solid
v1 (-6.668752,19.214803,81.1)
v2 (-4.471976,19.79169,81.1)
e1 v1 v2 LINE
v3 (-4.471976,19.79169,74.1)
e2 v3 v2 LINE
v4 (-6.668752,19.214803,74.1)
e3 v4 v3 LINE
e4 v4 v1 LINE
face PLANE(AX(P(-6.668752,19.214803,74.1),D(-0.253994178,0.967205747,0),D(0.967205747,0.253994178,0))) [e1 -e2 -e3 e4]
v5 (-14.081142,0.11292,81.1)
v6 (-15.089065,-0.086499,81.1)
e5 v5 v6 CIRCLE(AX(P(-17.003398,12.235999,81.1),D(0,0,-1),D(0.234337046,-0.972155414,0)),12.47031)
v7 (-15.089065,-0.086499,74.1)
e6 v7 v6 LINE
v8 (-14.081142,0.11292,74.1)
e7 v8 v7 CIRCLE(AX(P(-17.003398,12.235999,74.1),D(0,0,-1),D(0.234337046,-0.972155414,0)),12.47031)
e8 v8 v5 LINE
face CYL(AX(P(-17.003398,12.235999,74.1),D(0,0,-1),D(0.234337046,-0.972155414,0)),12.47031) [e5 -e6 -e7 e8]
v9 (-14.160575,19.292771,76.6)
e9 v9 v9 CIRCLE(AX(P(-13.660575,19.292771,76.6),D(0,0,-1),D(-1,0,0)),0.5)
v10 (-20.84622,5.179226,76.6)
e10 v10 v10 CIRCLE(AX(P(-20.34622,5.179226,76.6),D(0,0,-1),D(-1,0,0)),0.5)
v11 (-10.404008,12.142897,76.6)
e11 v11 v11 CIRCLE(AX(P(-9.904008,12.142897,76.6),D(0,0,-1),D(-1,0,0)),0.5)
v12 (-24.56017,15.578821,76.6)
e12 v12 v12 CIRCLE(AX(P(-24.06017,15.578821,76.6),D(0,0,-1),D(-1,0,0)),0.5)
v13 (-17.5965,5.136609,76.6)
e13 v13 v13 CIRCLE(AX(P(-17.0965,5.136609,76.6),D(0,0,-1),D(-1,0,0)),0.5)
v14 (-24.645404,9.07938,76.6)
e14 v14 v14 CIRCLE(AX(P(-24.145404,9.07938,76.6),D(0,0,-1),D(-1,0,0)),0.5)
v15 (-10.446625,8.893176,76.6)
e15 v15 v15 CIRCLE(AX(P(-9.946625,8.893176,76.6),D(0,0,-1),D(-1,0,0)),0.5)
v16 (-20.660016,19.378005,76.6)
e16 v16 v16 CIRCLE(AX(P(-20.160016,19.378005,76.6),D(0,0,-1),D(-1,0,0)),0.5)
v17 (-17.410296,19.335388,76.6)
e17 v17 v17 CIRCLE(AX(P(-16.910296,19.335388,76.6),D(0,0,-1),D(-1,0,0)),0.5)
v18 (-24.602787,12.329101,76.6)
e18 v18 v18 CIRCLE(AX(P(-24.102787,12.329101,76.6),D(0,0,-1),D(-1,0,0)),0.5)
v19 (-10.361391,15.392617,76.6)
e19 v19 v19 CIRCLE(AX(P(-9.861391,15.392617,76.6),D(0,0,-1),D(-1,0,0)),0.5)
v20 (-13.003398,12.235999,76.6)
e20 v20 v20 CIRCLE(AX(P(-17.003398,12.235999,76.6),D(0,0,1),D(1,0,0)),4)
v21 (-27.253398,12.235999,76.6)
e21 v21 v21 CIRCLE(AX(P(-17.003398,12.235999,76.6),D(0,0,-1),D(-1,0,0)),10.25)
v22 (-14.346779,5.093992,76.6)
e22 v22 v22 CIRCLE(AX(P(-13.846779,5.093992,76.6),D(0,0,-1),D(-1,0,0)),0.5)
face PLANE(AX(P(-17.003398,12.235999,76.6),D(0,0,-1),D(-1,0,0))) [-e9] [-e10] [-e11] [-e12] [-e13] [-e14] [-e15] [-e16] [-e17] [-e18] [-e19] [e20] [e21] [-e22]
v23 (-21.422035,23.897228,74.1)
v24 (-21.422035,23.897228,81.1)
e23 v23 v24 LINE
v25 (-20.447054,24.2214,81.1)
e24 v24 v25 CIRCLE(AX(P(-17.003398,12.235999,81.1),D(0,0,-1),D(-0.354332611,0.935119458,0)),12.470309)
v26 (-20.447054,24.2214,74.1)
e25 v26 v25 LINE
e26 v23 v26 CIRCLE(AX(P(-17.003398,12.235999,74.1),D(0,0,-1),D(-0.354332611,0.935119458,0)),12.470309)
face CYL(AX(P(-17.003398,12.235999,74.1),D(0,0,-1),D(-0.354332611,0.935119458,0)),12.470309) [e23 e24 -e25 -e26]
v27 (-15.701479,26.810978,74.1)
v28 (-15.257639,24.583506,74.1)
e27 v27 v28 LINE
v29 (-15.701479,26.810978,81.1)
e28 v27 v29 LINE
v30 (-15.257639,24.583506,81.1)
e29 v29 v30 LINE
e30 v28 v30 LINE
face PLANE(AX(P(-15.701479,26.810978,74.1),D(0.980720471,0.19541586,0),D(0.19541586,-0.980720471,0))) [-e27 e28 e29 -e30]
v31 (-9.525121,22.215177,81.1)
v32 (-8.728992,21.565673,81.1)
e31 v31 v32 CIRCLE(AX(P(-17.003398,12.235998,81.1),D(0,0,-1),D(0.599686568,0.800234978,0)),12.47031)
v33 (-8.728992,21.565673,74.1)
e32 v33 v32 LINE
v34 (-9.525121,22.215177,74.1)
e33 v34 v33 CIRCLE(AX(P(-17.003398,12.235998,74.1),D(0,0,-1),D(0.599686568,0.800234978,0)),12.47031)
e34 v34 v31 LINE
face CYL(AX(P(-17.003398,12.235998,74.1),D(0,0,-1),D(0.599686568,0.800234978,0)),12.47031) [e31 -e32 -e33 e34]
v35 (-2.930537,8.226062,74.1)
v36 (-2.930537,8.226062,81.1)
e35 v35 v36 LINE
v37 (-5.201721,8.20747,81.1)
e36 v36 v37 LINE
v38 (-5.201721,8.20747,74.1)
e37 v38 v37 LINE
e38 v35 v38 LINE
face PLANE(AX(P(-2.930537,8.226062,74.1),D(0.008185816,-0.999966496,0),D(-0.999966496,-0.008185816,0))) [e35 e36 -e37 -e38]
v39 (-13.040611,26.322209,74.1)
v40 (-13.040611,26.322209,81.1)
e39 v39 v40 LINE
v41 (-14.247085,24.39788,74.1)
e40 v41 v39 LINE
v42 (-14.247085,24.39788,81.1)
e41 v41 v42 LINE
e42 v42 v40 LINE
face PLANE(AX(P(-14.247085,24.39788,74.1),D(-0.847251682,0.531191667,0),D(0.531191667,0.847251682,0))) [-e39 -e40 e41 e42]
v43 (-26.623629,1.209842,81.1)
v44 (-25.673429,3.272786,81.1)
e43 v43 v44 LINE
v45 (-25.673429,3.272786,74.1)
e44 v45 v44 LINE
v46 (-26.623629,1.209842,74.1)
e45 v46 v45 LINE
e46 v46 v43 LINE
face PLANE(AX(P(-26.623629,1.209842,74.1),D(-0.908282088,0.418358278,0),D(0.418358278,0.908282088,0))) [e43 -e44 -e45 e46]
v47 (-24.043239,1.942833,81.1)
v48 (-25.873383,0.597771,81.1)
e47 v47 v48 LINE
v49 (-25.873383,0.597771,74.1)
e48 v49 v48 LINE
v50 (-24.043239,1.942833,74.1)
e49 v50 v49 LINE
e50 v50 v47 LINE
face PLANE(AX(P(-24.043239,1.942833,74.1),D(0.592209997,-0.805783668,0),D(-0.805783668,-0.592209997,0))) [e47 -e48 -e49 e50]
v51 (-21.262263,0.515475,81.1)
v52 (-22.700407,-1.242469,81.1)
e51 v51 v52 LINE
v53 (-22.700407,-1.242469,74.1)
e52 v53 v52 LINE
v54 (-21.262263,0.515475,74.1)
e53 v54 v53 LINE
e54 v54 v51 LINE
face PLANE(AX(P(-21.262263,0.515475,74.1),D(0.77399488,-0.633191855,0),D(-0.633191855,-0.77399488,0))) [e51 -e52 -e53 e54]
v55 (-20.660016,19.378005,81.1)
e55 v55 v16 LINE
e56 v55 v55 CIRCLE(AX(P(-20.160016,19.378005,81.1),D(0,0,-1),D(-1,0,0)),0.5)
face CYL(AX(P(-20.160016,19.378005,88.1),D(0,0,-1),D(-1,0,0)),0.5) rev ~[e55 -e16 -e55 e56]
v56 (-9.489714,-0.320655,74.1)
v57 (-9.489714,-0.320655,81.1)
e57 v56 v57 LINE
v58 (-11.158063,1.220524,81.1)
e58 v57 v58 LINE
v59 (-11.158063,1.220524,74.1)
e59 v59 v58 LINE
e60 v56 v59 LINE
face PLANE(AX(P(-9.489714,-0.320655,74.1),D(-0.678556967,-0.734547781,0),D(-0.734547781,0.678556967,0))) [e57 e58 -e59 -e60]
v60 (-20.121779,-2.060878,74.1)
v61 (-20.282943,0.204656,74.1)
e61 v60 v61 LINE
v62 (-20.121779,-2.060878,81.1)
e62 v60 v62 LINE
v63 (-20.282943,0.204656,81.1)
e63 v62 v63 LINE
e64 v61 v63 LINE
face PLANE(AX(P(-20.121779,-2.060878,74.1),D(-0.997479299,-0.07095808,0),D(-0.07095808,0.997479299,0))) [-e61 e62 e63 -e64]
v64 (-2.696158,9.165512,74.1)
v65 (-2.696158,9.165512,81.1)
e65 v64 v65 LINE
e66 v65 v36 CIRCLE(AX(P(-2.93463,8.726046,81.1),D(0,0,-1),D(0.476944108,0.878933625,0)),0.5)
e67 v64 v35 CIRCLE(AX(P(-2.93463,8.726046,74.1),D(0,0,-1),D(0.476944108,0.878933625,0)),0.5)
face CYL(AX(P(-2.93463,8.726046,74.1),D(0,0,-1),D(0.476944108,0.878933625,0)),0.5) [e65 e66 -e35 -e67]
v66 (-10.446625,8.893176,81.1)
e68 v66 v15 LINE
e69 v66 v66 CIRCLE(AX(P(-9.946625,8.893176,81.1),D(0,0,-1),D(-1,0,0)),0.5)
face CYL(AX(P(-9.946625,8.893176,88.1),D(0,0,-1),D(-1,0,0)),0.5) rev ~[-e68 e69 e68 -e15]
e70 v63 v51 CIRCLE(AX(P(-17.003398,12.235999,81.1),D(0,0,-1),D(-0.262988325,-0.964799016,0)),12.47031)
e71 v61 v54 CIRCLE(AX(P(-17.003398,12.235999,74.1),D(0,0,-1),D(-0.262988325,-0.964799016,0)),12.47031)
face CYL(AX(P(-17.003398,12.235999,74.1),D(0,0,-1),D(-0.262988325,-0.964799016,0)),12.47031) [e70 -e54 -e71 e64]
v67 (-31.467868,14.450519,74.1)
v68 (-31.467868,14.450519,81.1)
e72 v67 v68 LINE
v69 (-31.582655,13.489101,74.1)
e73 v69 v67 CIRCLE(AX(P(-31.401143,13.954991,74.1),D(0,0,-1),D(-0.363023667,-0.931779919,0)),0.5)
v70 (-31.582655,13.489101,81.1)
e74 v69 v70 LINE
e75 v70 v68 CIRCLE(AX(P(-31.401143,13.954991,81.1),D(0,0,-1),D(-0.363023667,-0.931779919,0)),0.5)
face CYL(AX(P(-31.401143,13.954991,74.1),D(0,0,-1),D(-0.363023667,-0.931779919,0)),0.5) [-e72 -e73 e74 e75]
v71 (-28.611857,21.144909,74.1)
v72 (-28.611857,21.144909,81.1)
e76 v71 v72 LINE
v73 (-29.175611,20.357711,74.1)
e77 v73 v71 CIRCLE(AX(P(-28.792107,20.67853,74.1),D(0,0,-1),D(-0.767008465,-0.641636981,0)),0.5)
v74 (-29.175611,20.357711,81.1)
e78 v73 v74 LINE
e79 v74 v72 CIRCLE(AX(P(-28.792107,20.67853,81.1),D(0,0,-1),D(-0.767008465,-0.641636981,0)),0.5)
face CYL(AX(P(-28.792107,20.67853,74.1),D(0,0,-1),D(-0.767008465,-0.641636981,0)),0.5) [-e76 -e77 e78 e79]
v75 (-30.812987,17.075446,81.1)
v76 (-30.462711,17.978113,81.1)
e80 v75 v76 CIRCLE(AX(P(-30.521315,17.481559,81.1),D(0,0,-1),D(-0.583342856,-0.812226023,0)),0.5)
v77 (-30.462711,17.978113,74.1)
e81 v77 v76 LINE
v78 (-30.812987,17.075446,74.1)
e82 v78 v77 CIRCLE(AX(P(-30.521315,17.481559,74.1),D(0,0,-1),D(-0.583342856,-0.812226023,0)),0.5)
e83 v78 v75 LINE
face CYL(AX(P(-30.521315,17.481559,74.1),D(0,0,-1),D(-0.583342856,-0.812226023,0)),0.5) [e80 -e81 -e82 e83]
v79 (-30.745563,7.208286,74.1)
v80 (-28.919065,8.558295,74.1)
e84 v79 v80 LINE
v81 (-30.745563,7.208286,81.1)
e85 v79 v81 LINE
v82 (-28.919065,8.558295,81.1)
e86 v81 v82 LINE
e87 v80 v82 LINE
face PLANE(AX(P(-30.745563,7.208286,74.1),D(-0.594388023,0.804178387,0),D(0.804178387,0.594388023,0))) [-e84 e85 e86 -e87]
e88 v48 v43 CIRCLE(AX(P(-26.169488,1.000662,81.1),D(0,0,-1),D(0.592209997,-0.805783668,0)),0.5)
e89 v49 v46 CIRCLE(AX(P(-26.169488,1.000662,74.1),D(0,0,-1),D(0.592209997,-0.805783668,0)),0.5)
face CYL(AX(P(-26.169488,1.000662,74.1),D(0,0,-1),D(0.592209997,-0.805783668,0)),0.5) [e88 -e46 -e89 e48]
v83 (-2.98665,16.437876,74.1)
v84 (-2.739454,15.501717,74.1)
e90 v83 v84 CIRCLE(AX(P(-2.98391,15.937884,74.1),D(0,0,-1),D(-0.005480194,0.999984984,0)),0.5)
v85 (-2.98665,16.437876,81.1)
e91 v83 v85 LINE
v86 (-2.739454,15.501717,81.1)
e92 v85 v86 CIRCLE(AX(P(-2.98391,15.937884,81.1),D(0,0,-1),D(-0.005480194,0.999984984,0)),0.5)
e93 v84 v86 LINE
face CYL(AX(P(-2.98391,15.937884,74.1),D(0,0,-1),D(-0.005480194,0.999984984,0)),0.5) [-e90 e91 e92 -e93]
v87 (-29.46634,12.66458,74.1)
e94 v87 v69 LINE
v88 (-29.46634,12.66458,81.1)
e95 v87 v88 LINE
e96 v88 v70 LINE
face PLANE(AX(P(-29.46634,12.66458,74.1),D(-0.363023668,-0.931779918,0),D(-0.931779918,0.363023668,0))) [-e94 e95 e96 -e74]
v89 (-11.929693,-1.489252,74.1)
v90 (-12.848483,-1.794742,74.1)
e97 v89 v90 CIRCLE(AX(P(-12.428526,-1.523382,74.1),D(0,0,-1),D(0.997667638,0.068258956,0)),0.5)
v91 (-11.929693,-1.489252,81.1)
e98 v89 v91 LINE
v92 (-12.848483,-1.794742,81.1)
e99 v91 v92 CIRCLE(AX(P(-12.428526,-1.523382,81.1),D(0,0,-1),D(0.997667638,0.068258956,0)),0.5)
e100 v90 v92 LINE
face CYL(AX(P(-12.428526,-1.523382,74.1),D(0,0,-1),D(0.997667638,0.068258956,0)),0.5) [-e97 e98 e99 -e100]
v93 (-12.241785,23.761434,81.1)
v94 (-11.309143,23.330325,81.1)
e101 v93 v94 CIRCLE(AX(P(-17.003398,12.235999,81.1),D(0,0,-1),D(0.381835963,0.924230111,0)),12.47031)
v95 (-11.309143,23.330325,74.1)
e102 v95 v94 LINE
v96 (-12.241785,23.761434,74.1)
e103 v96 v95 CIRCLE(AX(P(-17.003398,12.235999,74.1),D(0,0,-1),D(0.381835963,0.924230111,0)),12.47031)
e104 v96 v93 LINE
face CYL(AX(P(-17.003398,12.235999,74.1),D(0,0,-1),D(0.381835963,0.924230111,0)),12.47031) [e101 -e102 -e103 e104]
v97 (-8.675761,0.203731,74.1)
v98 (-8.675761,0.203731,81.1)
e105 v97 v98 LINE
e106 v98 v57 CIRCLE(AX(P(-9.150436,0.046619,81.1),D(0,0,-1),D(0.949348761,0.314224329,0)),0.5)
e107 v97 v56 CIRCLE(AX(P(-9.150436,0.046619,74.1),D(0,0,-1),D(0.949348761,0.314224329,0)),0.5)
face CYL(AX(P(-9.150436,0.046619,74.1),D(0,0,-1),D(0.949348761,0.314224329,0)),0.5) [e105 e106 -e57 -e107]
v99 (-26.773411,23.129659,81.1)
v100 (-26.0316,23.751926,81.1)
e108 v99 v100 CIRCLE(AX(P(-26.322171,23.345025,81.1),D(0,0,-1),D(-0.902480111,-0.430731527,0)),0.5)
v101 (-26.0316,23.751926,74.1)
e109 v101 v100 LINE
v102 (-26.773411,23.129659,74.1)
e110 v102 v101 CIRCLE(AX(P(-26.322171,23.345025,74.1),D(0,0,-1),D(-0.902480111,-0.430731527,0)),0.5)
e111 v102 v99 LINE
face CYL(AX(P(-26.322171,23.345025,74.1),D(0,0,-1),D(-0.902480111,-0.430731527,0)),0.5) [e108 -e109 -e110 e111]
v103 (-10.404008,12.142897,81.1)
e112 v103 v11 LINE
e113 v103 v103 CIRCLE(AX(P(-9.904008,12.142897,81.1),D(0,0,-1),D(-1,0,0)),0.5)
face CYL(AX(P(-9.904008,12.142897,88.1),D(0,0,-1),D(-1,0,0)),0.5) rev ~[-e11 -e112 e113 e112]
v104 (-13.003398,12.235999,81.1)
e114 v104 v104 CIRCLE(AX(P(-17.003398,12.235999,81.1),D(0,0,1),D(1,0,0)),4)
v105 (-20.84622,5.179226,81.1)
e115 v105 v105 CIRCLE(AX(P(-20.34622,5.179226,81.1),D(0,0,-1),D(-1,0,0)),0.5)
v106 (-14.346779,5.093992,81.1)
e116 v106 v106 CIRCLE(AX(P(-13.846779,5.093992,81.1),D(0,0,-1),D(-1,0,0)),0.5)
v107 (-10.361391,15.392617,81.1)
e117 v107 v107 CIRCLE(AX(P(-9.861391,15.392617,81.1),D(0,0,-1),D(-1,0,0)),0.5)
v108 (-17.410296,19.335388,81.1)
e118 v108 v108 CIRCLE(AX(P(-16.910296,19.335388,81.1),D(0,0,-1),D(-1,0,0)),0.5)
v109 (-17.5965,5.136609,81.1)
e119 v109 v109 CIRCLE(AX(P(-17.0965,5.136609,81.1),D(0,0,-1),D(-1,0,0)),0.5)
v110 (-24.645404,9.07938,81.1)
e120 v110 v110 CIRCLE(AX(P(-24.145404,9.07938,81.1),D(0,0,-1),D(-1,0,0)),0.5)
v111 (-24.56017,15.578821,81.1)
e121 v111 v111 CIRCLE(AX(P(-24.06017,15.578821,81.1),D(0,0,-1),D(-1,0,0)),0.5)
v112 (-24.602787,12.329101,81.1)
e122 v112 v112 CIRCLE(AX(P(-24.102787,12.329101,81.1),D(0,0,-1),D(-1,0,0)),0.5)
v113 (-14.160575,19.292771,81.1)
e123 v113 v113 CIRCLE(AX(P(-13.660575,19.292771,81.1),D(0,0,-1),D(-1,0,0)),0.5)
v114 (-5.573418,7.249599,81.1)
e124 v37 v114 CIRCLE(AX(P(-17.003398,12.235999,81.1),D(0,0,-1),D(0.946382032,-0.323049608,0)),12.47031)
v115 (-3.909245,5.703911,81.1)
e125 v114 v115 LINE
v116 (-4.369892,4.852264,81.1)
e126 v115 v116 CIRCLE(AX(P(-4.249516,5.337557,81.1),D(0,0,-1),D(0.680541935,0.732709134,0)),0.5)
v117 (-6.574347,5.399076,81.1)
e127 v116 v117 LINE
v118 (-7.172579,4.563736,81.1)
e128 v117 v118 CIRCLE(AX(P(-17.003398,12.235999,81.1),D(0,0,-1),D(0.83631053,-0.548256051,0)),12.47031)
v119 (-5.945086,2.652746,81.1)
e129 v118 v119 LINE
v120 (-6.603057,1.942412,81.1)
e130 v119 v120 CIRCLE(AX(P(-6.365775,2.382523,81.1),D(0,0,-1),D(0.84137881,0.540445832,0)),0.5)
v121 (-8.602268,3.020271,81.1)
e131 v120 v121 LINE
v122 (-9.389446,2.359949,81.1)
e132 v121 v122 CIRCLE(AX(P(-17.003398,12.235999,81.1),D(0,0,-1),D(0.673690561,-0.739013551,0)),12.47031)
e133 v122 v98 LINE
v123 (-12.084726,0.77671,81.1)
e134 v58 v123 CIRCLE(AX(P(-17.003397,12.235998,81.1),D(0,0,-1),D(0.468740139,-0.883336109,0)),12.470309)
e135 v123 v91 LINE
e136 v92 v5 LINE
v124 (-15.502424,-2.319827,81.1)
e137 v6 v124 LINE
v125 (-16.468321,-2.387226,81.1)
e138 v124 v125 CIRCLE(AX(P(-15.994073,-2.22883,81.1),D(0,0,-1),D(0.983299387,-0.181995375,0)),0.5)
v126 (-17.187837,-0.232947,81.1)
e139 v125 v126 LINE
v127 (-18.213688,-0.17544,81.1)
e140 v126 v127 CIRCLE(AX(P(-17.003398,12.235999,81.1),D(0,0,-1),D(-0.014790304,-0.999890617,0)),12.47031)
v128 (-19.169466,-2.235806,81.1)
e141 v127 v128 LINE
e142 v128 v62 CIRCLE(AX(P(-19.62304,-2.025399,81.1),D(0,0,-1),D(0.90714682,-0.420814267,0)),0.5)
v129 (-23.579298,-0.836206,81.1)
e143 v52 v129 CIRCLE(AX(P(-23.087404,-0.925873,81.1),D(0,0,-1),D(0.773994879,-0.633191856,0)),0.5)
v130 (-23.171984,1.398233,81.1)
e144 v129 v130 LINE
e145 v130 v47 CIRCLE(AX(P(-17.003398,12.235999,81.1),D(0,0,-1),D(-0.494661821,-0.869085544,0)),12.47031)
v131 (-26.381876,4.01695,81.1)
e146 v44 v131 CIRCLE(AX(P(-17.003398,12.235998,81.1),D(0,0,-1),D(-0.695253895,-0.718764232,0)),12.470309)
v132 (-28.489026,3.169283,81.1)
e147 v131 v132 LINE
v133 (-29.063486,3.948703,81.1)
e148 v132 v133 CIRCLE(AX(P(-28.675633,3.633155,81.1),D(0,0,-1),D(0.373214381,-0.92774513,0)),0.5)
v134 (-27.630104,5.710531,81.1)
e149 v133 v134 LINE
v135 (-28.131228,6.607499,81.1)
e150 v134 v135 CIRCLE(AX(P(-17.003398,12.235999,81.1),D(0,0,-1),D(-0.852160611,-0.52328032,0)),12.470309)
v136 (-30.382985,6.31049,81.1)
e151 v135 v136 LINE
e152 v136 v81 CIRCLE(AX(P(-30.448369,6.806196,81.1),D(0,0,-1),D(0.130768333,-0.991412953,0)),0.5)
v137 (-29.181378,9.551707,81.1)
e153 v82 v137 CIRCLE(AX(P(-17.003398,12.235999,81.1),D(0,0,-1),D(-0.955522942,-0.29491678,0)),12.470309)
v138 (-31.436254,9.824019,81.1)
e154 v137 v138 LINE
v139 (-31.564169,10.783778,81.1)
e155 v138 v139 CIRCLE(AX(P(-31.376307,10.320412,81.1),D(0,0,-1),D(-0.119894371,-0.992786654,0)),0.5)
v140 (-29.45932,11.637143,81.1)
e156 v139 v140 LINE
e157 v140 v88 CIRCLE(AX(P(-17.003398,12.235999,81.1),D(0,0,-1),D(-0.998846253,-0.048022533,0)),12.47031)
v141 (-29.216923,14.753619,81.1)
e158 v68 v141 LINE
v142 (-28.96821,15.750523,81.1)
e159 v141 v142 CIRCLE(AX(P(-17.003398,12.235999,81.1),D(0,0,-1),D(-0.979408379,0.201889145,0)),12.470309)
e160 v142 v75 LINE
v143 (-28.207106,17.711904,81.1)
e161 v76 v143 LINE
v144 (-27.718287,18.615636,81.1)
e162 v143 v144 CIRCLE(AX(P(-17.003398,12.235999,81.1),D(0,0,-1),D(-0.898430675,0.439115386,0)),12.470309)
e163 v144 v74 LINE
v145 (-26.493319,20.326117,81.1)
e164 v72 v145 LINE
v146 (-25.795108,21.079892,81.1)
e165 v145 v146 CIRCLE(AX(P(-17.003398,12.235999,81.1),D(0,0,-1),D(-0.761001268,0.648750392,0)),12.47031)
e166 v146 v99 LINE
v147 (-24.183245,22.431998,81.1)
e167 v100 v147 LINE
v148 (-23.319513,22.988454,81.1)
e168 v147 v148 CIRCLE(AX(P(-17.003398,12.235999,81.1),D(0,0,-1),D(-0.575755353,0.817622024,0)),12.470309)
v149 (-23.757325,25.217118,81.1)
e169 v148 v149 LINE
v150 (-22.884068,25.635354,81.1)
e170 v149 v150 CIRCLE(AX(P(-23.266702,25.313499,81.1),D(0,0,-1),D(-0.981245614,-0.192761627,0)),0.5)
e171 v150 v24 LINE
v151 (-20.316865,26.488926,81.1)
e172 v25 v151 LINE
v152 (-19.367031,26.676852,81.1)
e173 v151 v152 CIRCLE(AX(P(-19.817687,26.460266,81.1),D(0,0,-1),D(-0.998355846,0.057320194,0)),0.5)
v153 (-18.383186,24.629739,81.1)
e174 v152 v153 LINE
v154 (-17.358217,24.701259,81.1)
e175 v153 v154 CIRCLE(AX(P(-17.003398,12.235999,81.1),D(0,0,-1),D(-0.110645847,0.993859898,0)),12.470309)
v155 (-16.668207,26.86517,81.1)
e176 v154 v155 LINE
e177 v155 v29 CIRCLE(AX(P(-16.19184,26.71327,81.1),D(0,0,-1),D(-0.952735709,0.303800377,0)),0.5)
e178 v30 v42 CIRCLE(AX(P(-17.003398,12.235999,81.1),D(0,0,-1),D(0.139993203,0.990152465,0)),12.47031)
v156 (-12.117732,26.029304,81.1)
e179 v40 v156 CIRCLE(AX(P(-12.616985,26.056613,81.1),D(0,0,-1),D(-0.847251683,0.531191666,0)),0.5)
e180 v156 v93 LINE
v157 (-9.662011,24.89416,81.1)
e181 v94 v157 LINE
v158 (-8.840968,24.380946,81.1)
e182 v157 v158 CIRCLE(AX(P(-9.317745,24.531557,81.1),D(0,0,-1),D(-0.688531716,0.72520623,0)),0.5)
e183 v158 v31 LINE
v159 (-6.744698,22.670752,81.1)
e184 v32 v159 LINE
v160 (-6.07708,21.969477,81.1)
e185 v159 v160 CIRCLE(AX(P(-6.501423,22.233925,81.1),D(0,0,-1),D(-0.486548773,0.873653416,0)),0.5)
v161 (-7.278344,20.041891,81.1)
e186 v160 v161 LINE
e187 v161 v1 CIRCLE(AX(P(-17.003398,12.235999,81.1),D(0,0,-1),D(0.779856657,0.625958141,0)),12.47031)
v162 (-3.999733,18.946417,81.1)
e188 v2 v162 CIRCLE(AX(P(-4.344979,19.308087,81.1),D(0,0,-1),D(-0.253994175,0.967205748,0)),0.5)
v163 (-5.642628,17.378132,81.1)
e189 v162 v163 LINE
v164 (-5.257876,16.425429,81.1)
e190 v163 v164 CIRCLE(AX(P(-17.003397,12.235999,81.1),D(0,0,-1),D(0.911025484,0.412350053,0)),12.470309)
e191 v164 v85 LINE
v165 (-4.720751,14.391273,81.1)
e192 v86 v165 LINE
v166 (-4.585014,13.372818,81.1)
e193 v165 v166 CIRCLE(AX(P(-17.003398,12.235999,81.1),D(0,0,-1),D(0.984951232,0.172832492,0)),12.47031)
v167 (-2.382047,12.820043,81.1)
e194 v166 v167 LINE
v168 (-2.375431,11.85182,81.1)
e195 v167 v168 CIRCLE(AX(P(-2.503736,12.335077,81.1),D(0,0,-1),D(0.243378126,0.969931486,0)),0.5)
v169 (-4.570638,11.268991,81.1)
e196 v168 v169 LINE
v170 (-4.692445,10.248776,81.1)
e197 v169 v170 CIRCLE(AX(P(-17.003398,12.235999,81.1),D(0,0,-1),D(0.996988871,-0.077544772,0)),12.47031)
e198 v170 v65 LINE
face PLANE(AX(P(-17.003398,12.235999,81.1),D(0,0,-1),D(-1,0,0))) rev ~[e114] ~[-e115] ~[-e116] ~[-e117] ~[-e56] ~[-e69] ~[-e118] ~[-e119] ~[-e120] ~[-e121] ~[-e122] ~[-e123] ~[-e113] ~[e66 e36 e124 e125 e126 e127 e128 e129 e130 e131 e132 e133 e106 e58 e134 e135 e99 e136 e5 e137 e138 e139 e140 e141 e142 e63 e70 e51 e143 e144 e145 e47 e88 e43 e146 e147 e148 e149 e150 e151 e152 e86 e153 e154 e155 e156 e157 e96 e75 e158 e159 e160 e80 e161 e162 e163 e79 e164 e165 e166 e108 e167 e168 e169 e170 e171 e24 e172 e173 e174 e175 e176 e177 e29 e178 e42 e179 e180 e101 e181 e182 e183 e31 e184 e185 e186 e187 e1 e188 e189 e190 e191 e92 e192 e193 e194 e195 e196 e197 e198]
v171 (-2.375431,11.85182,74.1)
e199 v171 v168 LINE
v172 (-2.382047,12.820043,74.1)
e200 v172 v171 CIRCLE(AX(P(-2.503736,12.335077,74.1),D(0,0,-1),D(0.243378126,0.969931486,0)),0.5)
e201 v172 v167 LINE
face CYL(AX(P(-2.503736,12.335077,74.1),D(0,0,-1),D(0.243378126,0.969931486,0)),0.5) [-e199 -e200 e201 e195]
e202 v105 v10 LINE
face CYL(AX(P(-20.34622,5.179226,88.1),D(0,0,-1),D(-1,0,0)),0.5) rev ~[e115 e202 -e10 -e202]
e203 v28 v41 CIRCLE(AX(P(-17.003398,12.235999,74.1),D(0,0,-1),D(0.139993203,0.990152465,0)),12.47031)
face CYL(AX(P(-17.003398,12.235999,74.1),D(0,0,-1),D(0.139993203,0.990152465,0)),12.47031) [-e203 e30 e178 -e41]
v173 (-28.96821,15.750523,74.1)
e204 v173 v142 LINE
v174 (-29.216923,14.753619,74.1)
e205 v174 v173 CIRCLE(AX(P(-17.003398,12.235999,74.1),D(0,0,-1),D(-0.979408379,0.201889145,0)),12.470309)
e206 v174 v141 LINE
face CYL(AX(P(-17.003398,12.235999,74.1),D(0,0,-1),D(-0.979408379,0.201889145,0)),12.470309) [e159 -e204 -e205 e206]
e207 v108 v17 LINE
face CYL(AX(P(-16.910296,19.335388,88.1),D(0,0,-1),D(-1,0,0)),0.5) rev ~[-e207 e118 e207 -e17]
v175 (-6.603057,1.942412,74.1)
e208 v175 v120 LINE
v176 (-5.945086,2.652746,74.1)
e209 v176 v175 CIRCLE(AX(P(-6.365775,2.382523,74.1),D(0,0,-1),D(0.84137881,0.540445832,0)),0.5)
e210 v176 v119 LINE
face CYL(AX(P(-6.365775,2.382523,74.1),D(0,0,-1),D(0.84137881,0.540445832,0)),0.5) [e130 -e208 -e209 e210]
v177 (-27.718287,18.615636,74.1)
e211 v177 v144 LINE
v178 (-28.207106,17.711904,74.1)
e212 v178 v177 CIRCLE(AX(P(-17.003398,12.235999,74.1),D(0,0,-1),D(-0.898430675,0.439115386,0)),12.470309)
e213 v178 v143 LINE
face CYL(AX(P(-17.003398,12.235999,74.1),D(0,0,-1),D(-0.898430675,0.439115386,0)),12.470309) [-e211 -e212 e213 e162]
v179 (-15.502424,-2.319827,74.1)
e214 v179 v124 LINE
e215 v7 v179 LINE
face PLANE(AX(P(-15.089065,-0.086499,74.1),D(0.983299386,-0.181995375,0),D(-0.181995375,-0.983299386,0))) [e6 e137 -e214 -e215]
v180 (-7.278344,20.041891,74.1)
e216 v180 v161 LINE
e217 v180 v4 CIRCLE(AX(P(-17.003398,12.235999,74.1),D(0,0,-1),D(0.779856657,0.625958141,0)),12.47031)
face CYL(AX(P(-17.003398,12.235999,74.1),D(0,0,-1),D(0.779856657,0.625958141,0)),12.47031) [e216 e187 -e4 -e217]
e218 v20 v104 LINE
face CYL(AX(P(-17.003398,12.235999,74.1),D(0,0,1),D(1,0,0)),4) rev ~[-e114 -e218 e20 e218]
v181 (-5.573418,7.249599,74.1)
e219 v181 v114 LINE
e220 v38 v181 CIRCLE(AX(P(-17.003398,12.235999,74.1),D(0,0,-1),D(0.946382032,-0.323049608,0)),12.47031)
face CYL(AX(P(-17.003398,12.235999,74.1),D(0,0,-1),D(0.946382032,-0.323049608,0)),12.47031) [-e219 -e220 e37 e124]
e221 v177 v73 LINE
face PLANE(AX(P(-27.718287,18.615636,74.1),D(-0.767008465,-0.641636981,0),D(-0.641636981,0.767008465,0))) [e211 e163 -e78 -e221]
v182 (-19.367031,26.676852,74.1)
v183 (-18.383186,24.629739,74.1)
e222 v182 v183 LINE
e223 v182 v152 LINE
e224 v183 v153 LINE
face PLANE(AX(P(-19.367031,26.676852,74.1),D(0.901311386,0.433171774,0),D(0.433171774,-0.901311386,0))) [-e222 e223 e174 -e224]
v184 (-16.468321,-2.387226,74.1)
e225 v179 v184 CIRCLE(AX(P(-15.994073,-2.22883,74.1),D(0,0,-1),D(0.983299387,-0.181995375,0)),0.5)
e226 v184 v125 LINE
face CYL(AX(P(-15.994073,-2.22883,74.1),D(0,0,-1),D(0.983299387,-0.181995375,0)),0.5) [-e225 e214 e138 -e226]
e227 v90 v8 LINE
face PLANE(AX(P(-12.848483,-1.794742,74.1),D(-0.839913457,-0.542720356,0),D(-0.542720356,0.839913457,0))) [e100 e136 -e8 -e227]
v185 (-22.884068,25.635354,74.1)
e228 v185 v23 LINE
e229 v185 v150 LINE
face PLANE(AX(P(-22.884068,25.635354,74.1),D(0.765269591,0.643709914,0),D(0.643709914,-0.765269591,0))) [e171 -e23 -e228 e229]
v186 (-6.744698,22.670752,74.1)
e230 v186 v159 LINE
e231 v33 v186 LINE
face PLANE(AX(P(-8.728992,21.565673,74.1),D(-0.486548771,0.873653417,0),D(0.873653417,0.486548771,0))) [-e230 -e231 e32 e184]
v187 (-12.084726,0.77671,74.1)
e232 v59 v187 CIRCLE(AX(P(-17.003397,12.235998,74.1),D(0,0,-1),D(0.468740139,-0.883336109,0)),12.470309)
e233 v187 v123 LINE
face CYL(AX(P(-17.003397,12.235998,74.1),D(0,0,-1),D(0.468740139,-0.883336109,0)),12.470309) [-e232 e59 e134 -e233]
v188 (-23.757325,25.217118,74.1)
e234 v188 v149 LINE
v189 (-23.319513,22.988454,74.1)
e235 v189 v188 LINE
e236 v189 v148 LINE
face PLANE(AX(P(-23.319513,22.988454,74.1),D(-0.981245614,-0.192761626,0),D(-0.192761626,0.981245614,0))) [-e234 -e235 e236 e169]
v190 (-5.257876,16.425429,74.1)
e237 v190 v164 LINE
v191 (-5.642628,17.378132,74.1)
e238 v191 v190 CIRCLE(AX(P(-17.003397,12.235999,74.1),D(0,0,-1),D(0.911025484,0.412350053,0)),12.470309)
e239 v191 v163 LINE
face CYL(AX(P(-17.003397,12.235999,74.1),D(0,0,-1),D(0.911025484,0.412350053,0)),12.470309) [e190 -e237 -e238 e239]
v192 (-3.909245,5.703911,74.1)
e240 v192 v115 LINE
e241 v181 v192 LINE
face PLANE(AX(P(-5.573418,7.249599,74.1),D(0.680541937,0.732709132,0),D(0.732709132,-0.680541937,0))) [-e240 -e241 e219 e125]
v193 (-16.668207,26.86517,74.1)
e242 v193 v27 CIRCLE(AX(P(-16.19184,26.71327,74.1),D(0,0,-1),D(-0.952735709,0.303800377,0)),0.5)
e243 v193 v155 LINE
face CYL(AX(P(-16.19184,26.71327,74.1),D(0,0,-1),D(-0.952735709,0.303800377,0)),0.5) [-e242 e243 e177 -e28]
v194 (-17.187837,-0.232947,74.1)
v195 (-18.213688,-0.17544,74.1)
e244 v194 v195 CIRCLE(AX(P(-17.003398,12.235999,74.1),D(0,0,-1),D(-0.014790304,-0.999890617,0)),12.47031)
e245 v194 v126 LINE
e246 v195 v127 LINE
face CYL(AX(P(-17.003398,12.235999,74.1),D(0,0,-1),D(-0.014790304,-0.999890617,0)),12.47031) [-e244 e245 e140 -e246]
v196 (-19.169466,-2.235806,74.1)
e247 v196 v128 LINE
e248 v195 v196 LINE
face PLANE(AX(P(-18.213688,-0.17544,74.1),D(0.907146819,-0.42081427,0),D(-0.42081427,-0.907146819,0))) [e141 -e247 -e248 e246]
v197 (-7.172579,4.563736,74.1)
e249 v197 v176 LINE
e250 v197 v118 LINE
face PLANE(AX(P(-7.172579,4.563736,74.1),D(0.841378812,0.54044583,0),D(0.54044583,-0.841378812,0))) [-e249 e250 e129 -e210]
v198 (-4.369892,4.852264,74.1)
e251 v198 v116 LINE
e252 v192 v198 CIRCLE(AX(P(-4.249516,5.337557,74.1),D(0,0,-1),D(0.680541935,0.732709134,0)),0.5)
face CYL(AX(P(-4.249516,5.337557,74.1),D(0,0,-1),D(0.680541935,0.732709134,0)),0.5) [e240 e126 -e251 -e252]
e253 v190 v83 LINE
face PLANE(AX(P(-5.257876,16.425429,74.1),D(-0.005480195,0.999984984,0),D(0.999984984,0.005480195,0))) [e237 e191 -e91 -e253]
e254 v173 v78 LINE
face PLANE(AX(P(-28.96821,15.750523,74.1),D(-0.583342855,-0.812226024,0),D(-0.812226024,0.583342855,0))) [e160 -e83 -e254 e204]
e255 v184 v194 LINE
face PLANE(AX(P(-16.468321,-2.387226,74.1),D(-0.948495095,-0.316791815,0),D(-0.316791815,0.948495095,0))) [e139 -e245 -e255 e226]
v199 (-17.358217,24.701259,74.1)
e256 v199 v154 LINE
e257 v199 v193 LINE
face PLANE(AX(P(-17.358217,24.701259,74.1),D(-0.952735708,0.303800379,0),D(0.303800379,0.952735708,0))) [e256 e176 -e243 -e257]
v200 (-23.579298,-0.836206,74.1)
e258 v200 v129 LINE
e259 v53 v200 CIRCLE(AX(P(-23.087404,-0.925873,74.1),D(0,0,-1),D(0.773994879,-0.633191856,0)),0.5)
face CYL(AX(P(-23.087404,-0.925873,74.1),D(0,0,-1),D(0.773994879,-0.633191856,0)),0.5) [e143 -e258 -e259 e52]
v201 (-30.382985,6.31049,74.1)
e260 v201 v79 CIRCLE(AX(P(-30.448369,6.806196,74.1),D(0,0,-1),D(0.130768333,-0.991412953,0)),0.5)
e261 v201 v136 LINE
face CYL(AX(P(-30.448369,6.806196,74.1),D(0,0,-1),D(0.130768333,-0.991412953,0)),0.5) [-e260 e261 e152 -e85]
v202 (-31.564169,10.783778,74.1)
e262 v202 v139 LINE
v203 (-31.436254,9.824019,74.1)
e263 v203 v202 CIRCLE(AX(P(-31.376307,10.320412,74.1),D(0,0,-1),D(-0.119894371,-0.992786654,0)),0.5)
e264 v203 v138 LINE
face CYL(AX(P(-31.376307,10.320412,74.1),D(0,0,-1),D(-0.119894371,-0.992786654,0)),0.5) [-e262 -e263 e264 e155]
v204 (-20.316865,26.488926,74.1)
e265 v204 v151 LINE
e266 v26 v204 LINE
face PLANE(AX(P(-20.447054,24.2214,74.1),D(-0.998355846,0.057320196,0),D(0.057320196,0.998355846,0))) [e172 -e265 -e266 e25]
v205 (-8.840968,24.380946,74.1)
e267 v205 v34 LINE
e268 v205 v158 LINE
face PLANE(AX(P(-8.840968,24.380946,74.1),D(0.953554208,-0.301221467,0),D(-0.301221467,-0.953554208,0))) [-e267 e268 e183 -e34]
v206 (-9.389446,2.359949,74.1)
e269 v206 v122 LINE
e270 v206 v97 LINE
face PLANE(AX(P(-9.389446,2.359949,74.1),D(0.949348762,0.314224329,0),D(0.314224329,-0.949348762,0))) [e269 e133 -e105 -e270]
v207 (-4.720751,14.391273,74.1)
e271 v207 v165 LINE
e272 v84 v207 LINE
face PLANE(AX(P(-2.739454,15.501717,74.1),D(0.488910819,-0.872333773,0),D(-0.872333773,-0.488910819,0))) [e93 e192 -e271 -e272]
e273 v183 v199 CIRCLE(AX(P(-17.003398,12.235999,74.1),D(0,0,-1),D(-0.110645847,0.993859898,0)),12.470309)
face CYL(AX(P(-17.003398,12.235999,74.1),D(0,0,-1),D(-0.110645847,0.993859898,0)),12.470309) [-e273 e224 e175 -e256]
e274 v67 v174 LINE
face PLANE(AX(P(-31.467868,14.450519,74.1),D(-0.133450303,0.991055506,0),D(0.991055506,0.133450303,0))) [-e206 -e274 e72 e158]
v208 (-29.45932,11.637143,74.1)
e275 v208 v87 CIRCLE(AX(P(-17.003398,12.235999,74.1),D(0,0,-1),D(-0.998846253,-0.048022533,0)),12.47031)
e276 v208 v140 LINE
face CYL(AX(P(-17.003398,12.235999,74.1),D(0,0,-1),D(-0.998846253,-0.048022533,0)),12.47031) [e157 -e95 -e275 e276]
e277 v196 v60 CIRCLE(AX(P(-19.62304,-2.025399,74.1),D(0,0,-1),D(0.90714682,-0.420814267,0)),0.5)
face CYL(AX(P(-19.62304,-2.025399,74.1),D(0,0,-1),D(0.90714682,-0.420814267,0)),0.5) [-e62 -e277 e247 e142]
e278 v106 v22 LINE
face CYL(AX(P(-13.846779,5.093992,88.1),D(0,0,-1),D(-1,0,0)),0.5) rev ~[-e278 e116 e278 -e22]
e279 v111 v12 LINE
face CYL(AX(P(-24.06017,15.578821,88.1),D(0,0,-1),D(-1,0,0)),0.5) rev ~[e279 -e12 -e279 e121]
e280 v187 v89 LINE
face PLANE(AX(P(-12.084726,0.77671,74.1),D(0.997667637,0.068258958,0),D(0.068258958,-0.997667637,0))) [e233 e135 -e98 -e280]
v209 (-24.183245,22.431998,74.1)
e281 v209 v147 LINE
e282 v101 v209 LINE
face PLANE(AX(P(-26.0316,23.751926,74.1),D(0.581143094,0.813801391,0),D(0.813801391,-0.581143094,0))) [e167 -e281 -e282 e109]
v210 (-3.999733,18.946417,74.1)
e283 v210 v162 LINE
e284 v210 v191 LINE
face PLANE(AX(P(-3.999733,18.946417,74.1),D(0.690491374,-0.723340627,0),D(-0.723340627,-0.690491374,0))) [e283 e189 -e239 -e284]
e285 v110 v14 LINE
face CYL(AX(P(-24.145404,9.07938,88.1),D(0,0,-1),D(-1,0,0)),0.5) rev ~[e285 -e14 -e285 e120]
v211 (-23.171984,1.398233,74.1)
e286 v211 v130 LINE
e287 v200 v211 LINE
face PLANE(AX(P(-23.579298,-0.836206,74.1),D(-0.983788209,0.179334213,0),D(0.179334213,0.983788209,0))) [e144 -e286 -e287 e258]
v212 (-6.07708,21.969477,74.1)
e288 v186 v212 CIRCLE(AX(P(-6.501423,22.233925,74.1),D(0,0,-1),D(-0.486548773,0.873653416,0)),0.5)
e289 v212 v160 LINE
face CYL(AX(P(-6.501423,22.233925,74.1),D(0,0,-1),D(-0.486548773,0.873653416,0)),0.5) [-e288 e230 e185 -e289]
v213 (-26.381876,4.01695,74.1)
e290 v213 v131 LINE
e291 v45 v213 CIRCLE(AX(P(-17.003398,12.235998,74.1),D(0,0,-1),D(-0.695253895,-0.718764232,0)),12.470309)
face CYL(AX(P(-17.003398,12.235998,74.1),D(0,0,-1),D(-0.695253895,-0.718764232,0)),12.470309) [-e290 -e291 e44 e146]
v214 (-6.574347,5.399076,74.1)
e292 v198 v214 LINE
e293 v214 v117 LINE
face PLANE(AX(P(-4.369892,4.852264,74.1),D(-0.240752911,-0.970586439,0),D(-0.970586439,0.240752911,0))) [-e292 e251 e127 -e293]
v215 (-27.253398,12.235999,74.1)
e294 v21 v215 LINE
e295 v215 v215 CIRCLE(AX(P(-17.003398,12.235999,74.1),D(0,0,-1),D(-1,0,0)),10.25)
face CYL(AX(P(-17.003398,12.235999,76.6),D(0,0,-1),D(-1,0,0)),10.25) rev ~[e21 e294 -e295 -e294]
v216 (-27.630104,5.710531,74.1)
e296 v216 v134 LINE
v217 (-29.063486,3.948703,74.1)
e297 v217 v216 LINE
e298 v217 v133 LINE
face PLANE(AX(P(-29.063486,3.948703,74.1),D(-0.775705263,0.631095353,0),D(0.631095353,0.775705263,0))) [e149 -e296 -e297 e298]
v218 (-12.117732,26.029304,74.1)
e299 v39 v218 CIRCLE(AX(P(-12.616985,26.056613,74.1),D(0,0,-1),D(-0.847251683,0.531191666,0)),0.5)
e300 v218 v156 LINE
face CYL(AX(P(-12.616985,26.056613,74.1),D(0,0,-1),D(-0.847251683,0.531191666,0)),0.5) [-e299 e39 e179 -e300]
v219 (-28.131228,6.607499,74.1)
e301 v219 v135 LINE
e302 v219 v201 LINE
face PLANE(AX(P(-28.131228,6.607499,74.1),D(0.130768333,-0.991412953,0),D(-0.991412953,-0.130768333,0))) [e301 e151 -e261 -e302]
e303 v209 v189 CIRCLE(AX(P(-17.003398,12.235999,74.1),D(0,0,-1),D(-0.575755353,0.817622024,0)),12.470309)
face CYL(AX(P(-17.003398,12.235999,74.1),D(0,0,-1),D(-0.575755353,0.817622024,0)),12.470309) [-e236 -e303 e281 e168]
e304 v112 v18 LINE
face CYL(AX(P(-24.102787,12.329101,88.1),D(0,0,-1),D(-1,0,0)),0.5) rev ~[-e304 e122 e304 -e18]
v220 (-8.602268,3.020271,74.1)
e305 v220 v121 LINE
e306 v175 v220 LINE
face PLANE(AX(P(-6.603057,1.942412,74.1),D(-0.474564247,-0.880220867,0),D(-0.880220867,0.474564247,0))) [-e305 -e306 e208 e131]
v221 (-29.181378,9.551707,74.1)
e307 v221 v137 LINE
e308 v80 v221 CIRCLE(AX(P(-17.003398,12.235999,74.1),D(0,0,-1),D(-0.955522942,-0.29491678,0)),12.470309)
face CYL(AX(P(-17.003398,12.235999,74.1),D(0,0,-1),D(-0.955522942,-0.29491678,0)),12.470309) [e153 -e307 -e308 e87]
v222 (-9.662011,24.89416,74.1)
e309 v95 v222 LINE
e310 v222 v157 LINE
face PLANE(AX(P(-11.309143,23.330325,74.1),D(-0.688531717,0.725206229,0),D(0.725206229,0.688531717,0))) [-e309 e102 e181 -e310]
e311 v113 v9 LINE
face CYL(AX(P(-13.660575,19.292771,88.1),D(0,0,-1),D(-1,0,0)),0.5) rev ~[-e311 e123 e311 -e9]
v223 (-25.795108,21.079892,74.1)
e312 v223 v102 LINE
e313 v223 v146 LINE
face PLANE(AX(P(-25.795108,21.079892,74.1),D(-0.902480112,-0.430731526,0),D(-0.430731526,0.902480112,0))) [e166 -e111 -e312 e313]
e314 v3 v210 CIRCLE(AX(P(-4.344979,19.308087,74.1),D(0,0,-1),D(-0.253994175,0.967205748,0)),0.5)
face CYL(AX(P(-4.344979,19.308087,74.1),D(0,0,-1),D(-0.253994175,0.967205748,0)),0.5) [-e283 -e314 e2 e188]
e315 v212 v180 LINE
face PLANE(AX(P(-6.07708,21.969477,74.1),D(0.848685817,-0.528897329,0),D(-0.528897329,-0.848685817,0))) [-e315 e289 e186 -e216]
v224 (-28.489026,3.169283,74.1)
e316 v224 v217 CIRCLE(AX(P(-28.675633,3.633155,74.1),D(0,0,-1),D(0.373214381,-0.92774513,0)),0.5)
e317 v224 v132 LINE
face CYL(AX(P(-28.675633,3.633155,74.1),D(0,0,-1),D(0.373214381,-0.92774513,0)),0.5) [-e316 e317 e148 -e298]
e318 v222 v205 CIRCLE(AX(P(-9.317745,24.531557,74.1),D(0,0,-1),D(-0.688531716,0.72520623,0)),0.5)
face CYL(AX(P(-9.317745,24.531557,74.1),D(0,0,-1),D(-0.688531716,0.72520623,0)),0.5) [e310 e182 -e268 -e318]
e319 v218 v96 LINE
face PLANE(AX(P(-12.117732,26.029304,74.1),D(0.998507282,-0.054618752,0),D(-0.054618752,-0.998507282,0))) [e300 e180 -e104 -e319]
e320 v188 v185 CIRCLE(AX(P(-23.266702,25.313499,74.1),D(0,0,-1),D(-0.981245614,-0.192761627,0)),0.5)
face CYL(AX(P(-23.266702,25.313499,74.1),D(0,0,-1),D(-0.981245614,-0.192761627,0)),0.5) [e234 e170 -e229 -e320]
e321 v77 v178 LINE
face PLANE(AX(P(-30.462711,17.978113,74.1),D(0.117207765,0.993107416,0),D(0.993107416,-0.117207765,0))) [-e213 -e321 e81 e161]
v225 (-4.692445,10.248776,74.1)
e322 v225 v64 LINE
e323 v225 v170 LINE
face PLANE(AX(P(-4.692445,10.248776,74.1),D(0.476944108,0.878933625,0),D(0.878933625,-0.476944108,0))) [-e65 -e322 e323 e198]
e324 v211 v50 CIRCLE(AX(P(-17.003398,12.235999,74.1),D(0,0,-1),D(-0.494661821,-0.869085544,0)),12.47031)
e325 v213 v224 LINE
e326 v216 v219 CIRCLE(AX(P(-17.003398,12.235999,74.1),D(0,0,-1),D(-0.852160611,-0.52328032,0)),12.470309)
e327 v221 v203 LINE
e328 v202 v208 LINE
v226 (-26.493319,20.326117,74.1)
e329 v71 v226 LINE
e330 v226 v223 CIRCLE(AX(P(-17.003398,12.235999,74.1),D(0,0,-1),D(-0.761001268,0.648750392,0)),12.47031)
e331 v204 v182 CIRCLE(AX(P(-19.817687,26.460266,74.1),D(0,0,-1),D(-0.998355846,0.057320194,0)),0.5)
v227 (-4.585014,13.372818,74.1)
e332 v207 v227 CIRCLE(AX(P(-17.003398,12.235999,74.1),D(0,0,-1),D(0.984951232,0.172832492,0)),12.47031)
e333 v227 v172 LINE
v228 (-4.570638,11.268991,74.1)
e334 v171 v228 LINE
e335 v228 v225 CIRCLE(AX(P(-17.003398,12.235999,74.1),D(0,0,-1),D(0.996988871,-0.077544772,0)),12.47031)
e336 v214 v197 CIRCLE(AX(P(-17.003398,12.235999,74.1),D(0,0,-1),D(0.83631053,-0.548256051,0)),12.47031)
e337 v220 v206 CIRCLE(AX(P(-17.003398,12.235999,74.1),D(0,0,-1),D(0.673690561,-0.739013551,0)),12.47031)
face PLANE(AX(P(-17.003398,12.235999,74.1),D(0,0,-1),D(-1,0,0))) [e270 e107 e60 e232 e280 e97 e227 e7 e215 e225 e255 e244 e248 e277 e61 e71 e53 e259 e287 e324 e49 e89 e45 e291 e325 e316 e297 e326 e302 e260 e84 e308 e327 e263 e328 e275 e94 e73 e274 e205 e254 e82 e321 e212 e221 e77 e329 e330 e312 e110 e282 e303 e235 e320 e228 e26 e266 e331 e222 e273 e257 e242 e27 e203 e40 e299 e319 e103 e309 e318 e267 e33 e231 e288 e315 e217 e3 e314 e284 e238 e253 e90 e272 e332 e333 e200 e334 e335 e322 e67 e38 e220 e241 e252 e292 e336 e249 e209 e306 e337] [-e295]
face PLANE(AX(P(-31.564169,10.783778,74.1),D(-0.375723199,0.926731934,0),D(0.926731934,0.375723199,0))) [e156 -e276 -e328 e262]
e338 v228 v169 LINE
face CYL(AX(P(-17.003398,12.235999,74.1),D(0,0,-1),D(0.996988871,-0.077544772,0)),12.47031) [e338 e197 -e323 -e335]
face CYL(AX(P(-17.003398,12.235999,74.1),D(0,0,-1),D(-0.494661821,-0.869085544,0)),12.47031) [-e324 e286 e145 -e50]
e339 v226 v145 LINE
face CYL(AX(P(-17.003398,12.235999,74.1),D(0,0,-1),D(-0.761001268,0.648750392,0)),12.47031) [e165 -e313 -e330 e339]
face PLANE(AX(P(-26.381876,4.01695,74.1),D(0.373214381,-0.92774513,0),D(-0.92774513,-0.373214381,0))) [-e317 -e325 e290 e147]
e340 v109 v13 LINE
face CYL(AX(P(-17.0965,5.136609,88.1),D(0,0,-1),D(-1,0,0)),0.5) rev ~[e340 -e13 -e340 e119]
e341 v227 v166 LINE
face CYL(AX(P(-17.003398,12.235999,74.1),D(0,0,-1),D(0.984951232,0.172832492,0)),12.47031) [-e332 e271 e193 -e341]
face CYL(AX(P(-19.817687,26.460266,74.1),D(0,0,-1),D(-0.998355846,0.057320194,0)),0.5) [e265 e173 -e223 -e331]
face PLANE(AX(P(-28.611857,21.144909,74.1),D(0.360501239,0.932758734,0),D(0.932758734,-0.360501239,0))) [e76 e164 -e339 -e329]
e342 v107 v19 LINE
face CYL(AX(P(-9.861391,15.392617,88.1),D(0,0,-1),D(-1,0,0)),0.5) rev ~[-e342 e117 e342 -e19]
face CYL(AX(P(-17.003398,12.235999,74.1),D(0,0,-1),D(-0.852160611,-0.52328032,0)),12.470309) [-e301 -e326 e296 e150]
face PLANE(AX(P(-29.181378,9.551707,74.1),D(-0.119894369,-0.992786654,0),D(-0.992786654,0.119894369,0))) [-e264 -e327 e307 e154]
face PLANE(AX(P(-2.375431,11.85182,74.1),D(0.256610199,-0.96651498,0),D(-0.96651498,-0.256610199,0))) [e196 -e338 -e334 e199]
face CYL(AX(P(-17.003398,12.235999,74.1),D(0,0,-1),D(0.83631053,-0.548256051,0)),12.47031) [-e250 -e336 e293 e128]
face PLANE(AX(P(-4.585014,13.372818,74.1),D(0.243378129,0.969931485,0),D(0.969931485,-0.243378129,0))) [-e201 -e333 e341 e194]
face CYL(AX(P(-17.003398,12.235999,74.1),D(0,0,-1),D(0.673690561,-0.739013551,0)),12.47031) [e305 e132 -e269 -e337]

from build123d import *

# Parameters (mm, degrees)
BOSS_EXTRUDE1_DEPTH          = 7
HOLE1_D                      = 8
HOLE1_CBORE_D                = 20.5
HOLE1_CBORE_DEPTH            = 2.5
F_1_0_1_DIAMETER_HOLE1_D     = 1
F_1_0_1_DIAMETER_HOLE1_DEPTH = 7


with BuildPart() as part:
    # Sketch1 → Boss-Extrude1 (new body)
    with BuildSketch(Plane(origin=(0, 0, 74.1), x_dir=(-1, 0, 0), z_dir=(0, 0, -1))):
        with BuildLine():
            Line((5.573417888, 7.249599077), (3.909244984, 5.703911435))
            ThreePointArc((3.909244984, 5.703911435), (3.809726926, 5.099679562), (4.369892407, 4.852263649))
            Line((4.369892407, 4.852263649), (6.574346511, 5.399076092))
            ThreePointArc((6.574346511, 5.399076092), (6.86485582, 4.975241994), (7.172578897, 4.563735604))
            Line((7.172578897, 4.563735604), (5.94508593, 2.65274561))
            ThreePointArc((5.94508593, 2.65274561), (5.998960771, 2.042747658), (6.603057459, 1.942412262))
            Line((6.603057459, 1.942412262), (8.602267858, 3.020271029))
            ThreePointArc((8.602267858, 3.020271029), (8.989053537, 2.681999186), (9.389446406, 2.359948643))
            Line((9.389446406, 2.359948643), (8.675761274, 0.203730826))
            ThreePointArc((8.675761274, 0.203730826), (8.87964386, -0.37370479), (9.489714138, -0.320655229))
            Line((9.489714138, -0.320655229), (11.158063091, 1.220524032))
            ThreePointArc((11.158063091, 1.220524032), (11.616821973, 0.989069307), (12.084726477, 0.776710232))
            Line((12.084726477, 0.776710232), (11.92969264, -1.489252312))
            ThreePointArc((11.92969264, -1.489252312), (12.270772279, -1.997843189), (12.848483188, -1.794741969))
            Line((12.848483188, -1.794741969), (14.081142194, 0.112919824))
            ThreePointArc((14.081142194, 0.112919824), (14.583048772, 0.00282537), (15.089064749, -0.086498936))
            Line((15.089064749, -0.086498936), (15.502423555, -2.319827447))
            ThreePointArc((15.502423555, -2.319827447), (15.959268957, -2.72761695), (16.468320796, -2.387225667))
            Line((16.468320796, -2.387225667), (17.187837357, -0.232946748))
            ThreePointArc((17.187837357, -0.232946748), (17.701354994, -0.214763292), (18.213687601, -0.175440255))
            Line((18.213687601, -0.175440255), (19.169466196, -2.235806489))
            ThreePointArc((19.169466196, -2.235806489), (19.713372085, -2.517171704), (20.121779254, -2.060878394))
            Line((20.121779254, -2.060878394), (20.282943498, 0.204656383))
            ThreePointArc((20.282943498, 0.204656383), (20.775805993, 0.349975216), (21.262263487, 0.515474786))
            Line((21.262263487, 0.515474786), (22.700406786, -1.242468784))
            ThreePointArc((22.700406786, -1.242468784), (23.297197554, -1.379730498), (23.57929833, -0.83620575))
            Line((23.57929833, -0.83620575), (23.171983715, 1.398233005))
            ThreePointArc((23.171983715, 1.398233005), (23.613222703, 1.661556297), (24.043239171, 1.942833453))
            Line((24.043239171, 1.942833453), (25.873383342, 0.597770608))
            ThreePointArc((25.873383342, 0.597770608), (26.485560432, 0.613237052), (26.623629384, 1.209841581))
            Line((26.623629384, 1.209841581), (25.673428985, 3.272786307))
            ThreePointArc((25.673428985, 3.272786307), (26.0353198, 3.637568488), (26.381875725, 4.016949552))
            Line((26.381875725, 4.016949552), (28.489026078, 3.169282677))
            ThreePointArc((28.489026078, 3.169282677), (29.078124151, 3.336505465), (29.063485901, 3.948702919))
            Line((29.063485901, 3.948702919), (27.630104303, 5.710531213))
            ThreePointArc((27.630104303, 5.710531213), (27.889908013, 6.153851676), (28.131228013, 6.607498741))
            Line((28.131228013, 6.607498741), (30.382984542, 6.310489863))
            ThreePointArc((30.382984542, 6.310489863), (30.911988399, 6.618961773), (30.745562721, 7.208285533))
            Line((30.745562721, 7.208285533), (28.919064562, 8.558295243))
            ThreePointArc((28.919064562, 8.558295243), (29.060456745, 9.052298535), (29.181377796, 9.551707286))
            Line((29.181377796, 9.551707286), (31.436254358, 9.824018565))
            ThreePointArc((31.436254358, 9.824018565), (31.871924741, 10.254357173), (31.564168772, 10.783777859))
            Line((31.564168772, 10.783777859), (29.459319649, 11.637142911))
            ThreePointArc((29.459319649, 11.637142911), (29.473416113, 12.150788987), (29.466340301, 12.664579737))
            Line((29.466340301, 12.664579737), (31.582654708, 13.489100854))
            ThreePointArc((31.582654708, 13.489100854), (31.897616846, 14.014266401), (31.467868026, 14.450518566))
            Line((31.467868026, 14.450518566), (29.21692335, 14.753618895))
            ThreePointArc((29.21692335, 14.753618895), (29.102838363, 15.254633483), (28.968210287, 15.750522868))
            Line((28.968210287, 15.750522868), (30.812986722, 17.07544613))
            ThreePointArc((30.812986722, 17.07544613), (30.987450384, 17.662440534), (30.462711412, 17.97811285))
            Line((30.462711412, 17.97811285), (28.207106316, 17.711903547))
            ThreePointArc((28.207106316, 17.711903547), (27.972008257, 18.168806058), (27.718287094, 18.615635525))
            Line((27.718287094, 18.615635525), (29.175611469, 20.357711129))
            ThreePointArc((29.175611469, 20.357711129), (29.198614462, 20.969651374), (28.611856617, 21.144908987))
            Line((28.611856617, 21.144908987), (26.493319064, 20.326116962))
            ThreePointArc((26.493319064, 20.326116962), (26.151980009, 20.710198531), (25.795107994, 21.079892141))
            Line((25.795107994, 21.079892141), (26.773411257, 23.129659071))
            ThreePointArc((26.773411257, 23.129659071), (26.643508219, 23.728094699), (26.031599654, 23.75192553))
            Line((26.031599654, 23.75192553), (24.183245151, 22.431998497))
            ThreePointArc((24.183245151, 22.431998497), (23.757112689, 22.719125866), (23.319513401, 22.988454411))
            Line((23.319513401, 22.988454411), (23.757325162, 25.217118272))
            ThreePointArc((23.757325162, 25.217118272), (23.482678378, 25.764447372), (22.88406756, 25.635354042))
            Line((22.88406756, 25.635354042), (21.422035016, 23.897227871))
            ThreePointArc((21.422035016, 23.897227871), (20.937884616, 24.069359772), (20.44705403, 24.221400348))
            Line((20.44705403, 24.221400348), (20.316864965, 26.488925992))
            ThreePointArc((20.316864965, 26.488925992), (19.914731502, 26.950757865), (19.367031349, 26.676851782))
            Line((19.367031349, 26.676851782), (18.383185648, 24.629739333))
            ThreePointArc((18.383185648, 24.629739333), (17.87143826, 24.676060085), (17.358217065, 24.701259423))
            Line((17.358217065, 24.701259423), (16.668207433, 26.865169876))
            ThreePointArc((16.668207433, 26.865169876), (16.163854816, 27.212485926), (15.701479344, 26.810977617))
            Line((15.701479344, 26.810977617), (15.257639128, 24.583506493))
            ThreePointArc((15.257639128, 24.583506493), (14.750449723, 24.501105593), (14.247085495, 24.397880327))
            Line((14.247085495, 24.397880327), (13.040611138, 26.322209137))
            ThreePointArc((13.040611138, 26.322209137), (12.465729697, 26.533186219), (12.117731656, 26.029303927))
            Line((12.117731656, 26.029303927), (12.241785039, 23.761434332))
            ThreePointArc((12.241785039, 23.761434332), (11.771022192, 23.555489332), (11.309143157, 23.330325485))
            Line((11.309143157, 23.330325485), (9.662011296, 24.894159994))
            ThreePointArc((9.662011296, 24.894159994), (9.052722946, 24.955541642), (8.840968333, 24.380946146))
            Line((8.840968333, 24.380946146), (9.525120585, 22.215176667))
            ThreePointArc((9.525120585, 22.215176667), (9.120364058, 21.898627848), (8.728991773, 21.565673292))
            Line((8.728991773, 21.565673292), (6.744697761, 22.670752028))
            ThreePointArc((6.744697761, 22.670752028), (6.139286329, 22.578681408), (6.077080467, 21.969476655))
            Line((6.077080467, 21.969476655), (7.278343785, 20.041890553))
            ThreePointArc((7.278343785, 20.041890553), (6.965025918, 19.634627842), (6.668751745, 19.214803336))
            Line((6.668751745, 19.214803336), (4.471976071, 19.791690138))
            ThreePointArc((4.471976071, 19.791690138), (3.908481786, 19.551952385), (3.999733295, 18.94641695))
            Line((3.999733295, 18.94641695), (5.642627888, 17.378131549))
            ThreePointArc((5.642627888, 17.378131549), (5.440435595, 16.905744761), (5.257875529, 16.425429423))
            Line((5.257875529, 16.425429423), (2.986649689, 16.43787637))
            ThreePointArc((2.986649689, 16.43787637), (2.500478968, 16.065535089), (2.739454182, 15.501716992))
            Line((2.739454182, 15.501716992), (4.72075094, 14.391273431))
            ThreePointArc((4.72075094, 14.391273431), (4.642388707, 13.883444364), (4.585013668, 13.372818174))
            Line((4.585013668, 13.372818174), (2.382047135, 12.820043179))
            ThreePointArc((2.382047135, 12.820043179), (2.003747871, 12.338493942), (2.375431099, 11.851819947))
            Line((2.375431099, 11.851819947), (4.570637859, 11.26899148))
            ThreePointArc((4.570637859, 11.26899148), (4.621029474, 10.757628901), (4.692444547, 10.24877638))
            Line((4.692444547, 10.24877638), (2.696157809, 9.16551233))
            ThreePointArc((2.696157809, 9.16551233), (2.449499938, 8.605012646), (2.930536955, 8.226062269))
            Line((2.930536955, 8.226062269), (5.201720804, 8.207470152))
            ThreePointArc((5.201720804, 8.207470152), (5.377699975, 7.724704854), (5.573417888, 7.249599077))
        make_face()
    extrude(amount=-BOSS_EXTRUDE1_DEPTH)

    # Hole1 (through all)
    with Locations(Plane(origin=(0, 0, 74.1), x_dir=(-1, 0, 0), z_dir=(0, 0, -1))):
        with Locations((17.003397692, 12.235998762)):
            CounterBoreHole(HOLE1_D / 2, HOLE1_CBORE_D / 2, HOLE1_CBORE_DEPTH)

    # Ø1.0 (1) Diameter Hole1
    with Locations(Plane.XY.offset(81.1)):
        with Locations((-13.846779088, 5.093992112), (-17.096499658, 5.136609209), (-20.346220228, 5.179226306), (-24.145404342, 9.079380158), (-24.102787245, 12.329100728), (-24.060170148, 15.578821298), (-20.160016296, 19.378005412), (-16.910295726, 19.335388315), (-13.660575156, 19.292771218), (-9.861391042, 15.392617366), (-9.904008139, 12.142896796), (-9.946625236, 8.893176226)):
            Hole(F_1_0_1_DIAMETER_HOLE1_D / 2, depth=F_1_0_1_DIAMETER_HOLE1_DEPTH)


solid = part.part
